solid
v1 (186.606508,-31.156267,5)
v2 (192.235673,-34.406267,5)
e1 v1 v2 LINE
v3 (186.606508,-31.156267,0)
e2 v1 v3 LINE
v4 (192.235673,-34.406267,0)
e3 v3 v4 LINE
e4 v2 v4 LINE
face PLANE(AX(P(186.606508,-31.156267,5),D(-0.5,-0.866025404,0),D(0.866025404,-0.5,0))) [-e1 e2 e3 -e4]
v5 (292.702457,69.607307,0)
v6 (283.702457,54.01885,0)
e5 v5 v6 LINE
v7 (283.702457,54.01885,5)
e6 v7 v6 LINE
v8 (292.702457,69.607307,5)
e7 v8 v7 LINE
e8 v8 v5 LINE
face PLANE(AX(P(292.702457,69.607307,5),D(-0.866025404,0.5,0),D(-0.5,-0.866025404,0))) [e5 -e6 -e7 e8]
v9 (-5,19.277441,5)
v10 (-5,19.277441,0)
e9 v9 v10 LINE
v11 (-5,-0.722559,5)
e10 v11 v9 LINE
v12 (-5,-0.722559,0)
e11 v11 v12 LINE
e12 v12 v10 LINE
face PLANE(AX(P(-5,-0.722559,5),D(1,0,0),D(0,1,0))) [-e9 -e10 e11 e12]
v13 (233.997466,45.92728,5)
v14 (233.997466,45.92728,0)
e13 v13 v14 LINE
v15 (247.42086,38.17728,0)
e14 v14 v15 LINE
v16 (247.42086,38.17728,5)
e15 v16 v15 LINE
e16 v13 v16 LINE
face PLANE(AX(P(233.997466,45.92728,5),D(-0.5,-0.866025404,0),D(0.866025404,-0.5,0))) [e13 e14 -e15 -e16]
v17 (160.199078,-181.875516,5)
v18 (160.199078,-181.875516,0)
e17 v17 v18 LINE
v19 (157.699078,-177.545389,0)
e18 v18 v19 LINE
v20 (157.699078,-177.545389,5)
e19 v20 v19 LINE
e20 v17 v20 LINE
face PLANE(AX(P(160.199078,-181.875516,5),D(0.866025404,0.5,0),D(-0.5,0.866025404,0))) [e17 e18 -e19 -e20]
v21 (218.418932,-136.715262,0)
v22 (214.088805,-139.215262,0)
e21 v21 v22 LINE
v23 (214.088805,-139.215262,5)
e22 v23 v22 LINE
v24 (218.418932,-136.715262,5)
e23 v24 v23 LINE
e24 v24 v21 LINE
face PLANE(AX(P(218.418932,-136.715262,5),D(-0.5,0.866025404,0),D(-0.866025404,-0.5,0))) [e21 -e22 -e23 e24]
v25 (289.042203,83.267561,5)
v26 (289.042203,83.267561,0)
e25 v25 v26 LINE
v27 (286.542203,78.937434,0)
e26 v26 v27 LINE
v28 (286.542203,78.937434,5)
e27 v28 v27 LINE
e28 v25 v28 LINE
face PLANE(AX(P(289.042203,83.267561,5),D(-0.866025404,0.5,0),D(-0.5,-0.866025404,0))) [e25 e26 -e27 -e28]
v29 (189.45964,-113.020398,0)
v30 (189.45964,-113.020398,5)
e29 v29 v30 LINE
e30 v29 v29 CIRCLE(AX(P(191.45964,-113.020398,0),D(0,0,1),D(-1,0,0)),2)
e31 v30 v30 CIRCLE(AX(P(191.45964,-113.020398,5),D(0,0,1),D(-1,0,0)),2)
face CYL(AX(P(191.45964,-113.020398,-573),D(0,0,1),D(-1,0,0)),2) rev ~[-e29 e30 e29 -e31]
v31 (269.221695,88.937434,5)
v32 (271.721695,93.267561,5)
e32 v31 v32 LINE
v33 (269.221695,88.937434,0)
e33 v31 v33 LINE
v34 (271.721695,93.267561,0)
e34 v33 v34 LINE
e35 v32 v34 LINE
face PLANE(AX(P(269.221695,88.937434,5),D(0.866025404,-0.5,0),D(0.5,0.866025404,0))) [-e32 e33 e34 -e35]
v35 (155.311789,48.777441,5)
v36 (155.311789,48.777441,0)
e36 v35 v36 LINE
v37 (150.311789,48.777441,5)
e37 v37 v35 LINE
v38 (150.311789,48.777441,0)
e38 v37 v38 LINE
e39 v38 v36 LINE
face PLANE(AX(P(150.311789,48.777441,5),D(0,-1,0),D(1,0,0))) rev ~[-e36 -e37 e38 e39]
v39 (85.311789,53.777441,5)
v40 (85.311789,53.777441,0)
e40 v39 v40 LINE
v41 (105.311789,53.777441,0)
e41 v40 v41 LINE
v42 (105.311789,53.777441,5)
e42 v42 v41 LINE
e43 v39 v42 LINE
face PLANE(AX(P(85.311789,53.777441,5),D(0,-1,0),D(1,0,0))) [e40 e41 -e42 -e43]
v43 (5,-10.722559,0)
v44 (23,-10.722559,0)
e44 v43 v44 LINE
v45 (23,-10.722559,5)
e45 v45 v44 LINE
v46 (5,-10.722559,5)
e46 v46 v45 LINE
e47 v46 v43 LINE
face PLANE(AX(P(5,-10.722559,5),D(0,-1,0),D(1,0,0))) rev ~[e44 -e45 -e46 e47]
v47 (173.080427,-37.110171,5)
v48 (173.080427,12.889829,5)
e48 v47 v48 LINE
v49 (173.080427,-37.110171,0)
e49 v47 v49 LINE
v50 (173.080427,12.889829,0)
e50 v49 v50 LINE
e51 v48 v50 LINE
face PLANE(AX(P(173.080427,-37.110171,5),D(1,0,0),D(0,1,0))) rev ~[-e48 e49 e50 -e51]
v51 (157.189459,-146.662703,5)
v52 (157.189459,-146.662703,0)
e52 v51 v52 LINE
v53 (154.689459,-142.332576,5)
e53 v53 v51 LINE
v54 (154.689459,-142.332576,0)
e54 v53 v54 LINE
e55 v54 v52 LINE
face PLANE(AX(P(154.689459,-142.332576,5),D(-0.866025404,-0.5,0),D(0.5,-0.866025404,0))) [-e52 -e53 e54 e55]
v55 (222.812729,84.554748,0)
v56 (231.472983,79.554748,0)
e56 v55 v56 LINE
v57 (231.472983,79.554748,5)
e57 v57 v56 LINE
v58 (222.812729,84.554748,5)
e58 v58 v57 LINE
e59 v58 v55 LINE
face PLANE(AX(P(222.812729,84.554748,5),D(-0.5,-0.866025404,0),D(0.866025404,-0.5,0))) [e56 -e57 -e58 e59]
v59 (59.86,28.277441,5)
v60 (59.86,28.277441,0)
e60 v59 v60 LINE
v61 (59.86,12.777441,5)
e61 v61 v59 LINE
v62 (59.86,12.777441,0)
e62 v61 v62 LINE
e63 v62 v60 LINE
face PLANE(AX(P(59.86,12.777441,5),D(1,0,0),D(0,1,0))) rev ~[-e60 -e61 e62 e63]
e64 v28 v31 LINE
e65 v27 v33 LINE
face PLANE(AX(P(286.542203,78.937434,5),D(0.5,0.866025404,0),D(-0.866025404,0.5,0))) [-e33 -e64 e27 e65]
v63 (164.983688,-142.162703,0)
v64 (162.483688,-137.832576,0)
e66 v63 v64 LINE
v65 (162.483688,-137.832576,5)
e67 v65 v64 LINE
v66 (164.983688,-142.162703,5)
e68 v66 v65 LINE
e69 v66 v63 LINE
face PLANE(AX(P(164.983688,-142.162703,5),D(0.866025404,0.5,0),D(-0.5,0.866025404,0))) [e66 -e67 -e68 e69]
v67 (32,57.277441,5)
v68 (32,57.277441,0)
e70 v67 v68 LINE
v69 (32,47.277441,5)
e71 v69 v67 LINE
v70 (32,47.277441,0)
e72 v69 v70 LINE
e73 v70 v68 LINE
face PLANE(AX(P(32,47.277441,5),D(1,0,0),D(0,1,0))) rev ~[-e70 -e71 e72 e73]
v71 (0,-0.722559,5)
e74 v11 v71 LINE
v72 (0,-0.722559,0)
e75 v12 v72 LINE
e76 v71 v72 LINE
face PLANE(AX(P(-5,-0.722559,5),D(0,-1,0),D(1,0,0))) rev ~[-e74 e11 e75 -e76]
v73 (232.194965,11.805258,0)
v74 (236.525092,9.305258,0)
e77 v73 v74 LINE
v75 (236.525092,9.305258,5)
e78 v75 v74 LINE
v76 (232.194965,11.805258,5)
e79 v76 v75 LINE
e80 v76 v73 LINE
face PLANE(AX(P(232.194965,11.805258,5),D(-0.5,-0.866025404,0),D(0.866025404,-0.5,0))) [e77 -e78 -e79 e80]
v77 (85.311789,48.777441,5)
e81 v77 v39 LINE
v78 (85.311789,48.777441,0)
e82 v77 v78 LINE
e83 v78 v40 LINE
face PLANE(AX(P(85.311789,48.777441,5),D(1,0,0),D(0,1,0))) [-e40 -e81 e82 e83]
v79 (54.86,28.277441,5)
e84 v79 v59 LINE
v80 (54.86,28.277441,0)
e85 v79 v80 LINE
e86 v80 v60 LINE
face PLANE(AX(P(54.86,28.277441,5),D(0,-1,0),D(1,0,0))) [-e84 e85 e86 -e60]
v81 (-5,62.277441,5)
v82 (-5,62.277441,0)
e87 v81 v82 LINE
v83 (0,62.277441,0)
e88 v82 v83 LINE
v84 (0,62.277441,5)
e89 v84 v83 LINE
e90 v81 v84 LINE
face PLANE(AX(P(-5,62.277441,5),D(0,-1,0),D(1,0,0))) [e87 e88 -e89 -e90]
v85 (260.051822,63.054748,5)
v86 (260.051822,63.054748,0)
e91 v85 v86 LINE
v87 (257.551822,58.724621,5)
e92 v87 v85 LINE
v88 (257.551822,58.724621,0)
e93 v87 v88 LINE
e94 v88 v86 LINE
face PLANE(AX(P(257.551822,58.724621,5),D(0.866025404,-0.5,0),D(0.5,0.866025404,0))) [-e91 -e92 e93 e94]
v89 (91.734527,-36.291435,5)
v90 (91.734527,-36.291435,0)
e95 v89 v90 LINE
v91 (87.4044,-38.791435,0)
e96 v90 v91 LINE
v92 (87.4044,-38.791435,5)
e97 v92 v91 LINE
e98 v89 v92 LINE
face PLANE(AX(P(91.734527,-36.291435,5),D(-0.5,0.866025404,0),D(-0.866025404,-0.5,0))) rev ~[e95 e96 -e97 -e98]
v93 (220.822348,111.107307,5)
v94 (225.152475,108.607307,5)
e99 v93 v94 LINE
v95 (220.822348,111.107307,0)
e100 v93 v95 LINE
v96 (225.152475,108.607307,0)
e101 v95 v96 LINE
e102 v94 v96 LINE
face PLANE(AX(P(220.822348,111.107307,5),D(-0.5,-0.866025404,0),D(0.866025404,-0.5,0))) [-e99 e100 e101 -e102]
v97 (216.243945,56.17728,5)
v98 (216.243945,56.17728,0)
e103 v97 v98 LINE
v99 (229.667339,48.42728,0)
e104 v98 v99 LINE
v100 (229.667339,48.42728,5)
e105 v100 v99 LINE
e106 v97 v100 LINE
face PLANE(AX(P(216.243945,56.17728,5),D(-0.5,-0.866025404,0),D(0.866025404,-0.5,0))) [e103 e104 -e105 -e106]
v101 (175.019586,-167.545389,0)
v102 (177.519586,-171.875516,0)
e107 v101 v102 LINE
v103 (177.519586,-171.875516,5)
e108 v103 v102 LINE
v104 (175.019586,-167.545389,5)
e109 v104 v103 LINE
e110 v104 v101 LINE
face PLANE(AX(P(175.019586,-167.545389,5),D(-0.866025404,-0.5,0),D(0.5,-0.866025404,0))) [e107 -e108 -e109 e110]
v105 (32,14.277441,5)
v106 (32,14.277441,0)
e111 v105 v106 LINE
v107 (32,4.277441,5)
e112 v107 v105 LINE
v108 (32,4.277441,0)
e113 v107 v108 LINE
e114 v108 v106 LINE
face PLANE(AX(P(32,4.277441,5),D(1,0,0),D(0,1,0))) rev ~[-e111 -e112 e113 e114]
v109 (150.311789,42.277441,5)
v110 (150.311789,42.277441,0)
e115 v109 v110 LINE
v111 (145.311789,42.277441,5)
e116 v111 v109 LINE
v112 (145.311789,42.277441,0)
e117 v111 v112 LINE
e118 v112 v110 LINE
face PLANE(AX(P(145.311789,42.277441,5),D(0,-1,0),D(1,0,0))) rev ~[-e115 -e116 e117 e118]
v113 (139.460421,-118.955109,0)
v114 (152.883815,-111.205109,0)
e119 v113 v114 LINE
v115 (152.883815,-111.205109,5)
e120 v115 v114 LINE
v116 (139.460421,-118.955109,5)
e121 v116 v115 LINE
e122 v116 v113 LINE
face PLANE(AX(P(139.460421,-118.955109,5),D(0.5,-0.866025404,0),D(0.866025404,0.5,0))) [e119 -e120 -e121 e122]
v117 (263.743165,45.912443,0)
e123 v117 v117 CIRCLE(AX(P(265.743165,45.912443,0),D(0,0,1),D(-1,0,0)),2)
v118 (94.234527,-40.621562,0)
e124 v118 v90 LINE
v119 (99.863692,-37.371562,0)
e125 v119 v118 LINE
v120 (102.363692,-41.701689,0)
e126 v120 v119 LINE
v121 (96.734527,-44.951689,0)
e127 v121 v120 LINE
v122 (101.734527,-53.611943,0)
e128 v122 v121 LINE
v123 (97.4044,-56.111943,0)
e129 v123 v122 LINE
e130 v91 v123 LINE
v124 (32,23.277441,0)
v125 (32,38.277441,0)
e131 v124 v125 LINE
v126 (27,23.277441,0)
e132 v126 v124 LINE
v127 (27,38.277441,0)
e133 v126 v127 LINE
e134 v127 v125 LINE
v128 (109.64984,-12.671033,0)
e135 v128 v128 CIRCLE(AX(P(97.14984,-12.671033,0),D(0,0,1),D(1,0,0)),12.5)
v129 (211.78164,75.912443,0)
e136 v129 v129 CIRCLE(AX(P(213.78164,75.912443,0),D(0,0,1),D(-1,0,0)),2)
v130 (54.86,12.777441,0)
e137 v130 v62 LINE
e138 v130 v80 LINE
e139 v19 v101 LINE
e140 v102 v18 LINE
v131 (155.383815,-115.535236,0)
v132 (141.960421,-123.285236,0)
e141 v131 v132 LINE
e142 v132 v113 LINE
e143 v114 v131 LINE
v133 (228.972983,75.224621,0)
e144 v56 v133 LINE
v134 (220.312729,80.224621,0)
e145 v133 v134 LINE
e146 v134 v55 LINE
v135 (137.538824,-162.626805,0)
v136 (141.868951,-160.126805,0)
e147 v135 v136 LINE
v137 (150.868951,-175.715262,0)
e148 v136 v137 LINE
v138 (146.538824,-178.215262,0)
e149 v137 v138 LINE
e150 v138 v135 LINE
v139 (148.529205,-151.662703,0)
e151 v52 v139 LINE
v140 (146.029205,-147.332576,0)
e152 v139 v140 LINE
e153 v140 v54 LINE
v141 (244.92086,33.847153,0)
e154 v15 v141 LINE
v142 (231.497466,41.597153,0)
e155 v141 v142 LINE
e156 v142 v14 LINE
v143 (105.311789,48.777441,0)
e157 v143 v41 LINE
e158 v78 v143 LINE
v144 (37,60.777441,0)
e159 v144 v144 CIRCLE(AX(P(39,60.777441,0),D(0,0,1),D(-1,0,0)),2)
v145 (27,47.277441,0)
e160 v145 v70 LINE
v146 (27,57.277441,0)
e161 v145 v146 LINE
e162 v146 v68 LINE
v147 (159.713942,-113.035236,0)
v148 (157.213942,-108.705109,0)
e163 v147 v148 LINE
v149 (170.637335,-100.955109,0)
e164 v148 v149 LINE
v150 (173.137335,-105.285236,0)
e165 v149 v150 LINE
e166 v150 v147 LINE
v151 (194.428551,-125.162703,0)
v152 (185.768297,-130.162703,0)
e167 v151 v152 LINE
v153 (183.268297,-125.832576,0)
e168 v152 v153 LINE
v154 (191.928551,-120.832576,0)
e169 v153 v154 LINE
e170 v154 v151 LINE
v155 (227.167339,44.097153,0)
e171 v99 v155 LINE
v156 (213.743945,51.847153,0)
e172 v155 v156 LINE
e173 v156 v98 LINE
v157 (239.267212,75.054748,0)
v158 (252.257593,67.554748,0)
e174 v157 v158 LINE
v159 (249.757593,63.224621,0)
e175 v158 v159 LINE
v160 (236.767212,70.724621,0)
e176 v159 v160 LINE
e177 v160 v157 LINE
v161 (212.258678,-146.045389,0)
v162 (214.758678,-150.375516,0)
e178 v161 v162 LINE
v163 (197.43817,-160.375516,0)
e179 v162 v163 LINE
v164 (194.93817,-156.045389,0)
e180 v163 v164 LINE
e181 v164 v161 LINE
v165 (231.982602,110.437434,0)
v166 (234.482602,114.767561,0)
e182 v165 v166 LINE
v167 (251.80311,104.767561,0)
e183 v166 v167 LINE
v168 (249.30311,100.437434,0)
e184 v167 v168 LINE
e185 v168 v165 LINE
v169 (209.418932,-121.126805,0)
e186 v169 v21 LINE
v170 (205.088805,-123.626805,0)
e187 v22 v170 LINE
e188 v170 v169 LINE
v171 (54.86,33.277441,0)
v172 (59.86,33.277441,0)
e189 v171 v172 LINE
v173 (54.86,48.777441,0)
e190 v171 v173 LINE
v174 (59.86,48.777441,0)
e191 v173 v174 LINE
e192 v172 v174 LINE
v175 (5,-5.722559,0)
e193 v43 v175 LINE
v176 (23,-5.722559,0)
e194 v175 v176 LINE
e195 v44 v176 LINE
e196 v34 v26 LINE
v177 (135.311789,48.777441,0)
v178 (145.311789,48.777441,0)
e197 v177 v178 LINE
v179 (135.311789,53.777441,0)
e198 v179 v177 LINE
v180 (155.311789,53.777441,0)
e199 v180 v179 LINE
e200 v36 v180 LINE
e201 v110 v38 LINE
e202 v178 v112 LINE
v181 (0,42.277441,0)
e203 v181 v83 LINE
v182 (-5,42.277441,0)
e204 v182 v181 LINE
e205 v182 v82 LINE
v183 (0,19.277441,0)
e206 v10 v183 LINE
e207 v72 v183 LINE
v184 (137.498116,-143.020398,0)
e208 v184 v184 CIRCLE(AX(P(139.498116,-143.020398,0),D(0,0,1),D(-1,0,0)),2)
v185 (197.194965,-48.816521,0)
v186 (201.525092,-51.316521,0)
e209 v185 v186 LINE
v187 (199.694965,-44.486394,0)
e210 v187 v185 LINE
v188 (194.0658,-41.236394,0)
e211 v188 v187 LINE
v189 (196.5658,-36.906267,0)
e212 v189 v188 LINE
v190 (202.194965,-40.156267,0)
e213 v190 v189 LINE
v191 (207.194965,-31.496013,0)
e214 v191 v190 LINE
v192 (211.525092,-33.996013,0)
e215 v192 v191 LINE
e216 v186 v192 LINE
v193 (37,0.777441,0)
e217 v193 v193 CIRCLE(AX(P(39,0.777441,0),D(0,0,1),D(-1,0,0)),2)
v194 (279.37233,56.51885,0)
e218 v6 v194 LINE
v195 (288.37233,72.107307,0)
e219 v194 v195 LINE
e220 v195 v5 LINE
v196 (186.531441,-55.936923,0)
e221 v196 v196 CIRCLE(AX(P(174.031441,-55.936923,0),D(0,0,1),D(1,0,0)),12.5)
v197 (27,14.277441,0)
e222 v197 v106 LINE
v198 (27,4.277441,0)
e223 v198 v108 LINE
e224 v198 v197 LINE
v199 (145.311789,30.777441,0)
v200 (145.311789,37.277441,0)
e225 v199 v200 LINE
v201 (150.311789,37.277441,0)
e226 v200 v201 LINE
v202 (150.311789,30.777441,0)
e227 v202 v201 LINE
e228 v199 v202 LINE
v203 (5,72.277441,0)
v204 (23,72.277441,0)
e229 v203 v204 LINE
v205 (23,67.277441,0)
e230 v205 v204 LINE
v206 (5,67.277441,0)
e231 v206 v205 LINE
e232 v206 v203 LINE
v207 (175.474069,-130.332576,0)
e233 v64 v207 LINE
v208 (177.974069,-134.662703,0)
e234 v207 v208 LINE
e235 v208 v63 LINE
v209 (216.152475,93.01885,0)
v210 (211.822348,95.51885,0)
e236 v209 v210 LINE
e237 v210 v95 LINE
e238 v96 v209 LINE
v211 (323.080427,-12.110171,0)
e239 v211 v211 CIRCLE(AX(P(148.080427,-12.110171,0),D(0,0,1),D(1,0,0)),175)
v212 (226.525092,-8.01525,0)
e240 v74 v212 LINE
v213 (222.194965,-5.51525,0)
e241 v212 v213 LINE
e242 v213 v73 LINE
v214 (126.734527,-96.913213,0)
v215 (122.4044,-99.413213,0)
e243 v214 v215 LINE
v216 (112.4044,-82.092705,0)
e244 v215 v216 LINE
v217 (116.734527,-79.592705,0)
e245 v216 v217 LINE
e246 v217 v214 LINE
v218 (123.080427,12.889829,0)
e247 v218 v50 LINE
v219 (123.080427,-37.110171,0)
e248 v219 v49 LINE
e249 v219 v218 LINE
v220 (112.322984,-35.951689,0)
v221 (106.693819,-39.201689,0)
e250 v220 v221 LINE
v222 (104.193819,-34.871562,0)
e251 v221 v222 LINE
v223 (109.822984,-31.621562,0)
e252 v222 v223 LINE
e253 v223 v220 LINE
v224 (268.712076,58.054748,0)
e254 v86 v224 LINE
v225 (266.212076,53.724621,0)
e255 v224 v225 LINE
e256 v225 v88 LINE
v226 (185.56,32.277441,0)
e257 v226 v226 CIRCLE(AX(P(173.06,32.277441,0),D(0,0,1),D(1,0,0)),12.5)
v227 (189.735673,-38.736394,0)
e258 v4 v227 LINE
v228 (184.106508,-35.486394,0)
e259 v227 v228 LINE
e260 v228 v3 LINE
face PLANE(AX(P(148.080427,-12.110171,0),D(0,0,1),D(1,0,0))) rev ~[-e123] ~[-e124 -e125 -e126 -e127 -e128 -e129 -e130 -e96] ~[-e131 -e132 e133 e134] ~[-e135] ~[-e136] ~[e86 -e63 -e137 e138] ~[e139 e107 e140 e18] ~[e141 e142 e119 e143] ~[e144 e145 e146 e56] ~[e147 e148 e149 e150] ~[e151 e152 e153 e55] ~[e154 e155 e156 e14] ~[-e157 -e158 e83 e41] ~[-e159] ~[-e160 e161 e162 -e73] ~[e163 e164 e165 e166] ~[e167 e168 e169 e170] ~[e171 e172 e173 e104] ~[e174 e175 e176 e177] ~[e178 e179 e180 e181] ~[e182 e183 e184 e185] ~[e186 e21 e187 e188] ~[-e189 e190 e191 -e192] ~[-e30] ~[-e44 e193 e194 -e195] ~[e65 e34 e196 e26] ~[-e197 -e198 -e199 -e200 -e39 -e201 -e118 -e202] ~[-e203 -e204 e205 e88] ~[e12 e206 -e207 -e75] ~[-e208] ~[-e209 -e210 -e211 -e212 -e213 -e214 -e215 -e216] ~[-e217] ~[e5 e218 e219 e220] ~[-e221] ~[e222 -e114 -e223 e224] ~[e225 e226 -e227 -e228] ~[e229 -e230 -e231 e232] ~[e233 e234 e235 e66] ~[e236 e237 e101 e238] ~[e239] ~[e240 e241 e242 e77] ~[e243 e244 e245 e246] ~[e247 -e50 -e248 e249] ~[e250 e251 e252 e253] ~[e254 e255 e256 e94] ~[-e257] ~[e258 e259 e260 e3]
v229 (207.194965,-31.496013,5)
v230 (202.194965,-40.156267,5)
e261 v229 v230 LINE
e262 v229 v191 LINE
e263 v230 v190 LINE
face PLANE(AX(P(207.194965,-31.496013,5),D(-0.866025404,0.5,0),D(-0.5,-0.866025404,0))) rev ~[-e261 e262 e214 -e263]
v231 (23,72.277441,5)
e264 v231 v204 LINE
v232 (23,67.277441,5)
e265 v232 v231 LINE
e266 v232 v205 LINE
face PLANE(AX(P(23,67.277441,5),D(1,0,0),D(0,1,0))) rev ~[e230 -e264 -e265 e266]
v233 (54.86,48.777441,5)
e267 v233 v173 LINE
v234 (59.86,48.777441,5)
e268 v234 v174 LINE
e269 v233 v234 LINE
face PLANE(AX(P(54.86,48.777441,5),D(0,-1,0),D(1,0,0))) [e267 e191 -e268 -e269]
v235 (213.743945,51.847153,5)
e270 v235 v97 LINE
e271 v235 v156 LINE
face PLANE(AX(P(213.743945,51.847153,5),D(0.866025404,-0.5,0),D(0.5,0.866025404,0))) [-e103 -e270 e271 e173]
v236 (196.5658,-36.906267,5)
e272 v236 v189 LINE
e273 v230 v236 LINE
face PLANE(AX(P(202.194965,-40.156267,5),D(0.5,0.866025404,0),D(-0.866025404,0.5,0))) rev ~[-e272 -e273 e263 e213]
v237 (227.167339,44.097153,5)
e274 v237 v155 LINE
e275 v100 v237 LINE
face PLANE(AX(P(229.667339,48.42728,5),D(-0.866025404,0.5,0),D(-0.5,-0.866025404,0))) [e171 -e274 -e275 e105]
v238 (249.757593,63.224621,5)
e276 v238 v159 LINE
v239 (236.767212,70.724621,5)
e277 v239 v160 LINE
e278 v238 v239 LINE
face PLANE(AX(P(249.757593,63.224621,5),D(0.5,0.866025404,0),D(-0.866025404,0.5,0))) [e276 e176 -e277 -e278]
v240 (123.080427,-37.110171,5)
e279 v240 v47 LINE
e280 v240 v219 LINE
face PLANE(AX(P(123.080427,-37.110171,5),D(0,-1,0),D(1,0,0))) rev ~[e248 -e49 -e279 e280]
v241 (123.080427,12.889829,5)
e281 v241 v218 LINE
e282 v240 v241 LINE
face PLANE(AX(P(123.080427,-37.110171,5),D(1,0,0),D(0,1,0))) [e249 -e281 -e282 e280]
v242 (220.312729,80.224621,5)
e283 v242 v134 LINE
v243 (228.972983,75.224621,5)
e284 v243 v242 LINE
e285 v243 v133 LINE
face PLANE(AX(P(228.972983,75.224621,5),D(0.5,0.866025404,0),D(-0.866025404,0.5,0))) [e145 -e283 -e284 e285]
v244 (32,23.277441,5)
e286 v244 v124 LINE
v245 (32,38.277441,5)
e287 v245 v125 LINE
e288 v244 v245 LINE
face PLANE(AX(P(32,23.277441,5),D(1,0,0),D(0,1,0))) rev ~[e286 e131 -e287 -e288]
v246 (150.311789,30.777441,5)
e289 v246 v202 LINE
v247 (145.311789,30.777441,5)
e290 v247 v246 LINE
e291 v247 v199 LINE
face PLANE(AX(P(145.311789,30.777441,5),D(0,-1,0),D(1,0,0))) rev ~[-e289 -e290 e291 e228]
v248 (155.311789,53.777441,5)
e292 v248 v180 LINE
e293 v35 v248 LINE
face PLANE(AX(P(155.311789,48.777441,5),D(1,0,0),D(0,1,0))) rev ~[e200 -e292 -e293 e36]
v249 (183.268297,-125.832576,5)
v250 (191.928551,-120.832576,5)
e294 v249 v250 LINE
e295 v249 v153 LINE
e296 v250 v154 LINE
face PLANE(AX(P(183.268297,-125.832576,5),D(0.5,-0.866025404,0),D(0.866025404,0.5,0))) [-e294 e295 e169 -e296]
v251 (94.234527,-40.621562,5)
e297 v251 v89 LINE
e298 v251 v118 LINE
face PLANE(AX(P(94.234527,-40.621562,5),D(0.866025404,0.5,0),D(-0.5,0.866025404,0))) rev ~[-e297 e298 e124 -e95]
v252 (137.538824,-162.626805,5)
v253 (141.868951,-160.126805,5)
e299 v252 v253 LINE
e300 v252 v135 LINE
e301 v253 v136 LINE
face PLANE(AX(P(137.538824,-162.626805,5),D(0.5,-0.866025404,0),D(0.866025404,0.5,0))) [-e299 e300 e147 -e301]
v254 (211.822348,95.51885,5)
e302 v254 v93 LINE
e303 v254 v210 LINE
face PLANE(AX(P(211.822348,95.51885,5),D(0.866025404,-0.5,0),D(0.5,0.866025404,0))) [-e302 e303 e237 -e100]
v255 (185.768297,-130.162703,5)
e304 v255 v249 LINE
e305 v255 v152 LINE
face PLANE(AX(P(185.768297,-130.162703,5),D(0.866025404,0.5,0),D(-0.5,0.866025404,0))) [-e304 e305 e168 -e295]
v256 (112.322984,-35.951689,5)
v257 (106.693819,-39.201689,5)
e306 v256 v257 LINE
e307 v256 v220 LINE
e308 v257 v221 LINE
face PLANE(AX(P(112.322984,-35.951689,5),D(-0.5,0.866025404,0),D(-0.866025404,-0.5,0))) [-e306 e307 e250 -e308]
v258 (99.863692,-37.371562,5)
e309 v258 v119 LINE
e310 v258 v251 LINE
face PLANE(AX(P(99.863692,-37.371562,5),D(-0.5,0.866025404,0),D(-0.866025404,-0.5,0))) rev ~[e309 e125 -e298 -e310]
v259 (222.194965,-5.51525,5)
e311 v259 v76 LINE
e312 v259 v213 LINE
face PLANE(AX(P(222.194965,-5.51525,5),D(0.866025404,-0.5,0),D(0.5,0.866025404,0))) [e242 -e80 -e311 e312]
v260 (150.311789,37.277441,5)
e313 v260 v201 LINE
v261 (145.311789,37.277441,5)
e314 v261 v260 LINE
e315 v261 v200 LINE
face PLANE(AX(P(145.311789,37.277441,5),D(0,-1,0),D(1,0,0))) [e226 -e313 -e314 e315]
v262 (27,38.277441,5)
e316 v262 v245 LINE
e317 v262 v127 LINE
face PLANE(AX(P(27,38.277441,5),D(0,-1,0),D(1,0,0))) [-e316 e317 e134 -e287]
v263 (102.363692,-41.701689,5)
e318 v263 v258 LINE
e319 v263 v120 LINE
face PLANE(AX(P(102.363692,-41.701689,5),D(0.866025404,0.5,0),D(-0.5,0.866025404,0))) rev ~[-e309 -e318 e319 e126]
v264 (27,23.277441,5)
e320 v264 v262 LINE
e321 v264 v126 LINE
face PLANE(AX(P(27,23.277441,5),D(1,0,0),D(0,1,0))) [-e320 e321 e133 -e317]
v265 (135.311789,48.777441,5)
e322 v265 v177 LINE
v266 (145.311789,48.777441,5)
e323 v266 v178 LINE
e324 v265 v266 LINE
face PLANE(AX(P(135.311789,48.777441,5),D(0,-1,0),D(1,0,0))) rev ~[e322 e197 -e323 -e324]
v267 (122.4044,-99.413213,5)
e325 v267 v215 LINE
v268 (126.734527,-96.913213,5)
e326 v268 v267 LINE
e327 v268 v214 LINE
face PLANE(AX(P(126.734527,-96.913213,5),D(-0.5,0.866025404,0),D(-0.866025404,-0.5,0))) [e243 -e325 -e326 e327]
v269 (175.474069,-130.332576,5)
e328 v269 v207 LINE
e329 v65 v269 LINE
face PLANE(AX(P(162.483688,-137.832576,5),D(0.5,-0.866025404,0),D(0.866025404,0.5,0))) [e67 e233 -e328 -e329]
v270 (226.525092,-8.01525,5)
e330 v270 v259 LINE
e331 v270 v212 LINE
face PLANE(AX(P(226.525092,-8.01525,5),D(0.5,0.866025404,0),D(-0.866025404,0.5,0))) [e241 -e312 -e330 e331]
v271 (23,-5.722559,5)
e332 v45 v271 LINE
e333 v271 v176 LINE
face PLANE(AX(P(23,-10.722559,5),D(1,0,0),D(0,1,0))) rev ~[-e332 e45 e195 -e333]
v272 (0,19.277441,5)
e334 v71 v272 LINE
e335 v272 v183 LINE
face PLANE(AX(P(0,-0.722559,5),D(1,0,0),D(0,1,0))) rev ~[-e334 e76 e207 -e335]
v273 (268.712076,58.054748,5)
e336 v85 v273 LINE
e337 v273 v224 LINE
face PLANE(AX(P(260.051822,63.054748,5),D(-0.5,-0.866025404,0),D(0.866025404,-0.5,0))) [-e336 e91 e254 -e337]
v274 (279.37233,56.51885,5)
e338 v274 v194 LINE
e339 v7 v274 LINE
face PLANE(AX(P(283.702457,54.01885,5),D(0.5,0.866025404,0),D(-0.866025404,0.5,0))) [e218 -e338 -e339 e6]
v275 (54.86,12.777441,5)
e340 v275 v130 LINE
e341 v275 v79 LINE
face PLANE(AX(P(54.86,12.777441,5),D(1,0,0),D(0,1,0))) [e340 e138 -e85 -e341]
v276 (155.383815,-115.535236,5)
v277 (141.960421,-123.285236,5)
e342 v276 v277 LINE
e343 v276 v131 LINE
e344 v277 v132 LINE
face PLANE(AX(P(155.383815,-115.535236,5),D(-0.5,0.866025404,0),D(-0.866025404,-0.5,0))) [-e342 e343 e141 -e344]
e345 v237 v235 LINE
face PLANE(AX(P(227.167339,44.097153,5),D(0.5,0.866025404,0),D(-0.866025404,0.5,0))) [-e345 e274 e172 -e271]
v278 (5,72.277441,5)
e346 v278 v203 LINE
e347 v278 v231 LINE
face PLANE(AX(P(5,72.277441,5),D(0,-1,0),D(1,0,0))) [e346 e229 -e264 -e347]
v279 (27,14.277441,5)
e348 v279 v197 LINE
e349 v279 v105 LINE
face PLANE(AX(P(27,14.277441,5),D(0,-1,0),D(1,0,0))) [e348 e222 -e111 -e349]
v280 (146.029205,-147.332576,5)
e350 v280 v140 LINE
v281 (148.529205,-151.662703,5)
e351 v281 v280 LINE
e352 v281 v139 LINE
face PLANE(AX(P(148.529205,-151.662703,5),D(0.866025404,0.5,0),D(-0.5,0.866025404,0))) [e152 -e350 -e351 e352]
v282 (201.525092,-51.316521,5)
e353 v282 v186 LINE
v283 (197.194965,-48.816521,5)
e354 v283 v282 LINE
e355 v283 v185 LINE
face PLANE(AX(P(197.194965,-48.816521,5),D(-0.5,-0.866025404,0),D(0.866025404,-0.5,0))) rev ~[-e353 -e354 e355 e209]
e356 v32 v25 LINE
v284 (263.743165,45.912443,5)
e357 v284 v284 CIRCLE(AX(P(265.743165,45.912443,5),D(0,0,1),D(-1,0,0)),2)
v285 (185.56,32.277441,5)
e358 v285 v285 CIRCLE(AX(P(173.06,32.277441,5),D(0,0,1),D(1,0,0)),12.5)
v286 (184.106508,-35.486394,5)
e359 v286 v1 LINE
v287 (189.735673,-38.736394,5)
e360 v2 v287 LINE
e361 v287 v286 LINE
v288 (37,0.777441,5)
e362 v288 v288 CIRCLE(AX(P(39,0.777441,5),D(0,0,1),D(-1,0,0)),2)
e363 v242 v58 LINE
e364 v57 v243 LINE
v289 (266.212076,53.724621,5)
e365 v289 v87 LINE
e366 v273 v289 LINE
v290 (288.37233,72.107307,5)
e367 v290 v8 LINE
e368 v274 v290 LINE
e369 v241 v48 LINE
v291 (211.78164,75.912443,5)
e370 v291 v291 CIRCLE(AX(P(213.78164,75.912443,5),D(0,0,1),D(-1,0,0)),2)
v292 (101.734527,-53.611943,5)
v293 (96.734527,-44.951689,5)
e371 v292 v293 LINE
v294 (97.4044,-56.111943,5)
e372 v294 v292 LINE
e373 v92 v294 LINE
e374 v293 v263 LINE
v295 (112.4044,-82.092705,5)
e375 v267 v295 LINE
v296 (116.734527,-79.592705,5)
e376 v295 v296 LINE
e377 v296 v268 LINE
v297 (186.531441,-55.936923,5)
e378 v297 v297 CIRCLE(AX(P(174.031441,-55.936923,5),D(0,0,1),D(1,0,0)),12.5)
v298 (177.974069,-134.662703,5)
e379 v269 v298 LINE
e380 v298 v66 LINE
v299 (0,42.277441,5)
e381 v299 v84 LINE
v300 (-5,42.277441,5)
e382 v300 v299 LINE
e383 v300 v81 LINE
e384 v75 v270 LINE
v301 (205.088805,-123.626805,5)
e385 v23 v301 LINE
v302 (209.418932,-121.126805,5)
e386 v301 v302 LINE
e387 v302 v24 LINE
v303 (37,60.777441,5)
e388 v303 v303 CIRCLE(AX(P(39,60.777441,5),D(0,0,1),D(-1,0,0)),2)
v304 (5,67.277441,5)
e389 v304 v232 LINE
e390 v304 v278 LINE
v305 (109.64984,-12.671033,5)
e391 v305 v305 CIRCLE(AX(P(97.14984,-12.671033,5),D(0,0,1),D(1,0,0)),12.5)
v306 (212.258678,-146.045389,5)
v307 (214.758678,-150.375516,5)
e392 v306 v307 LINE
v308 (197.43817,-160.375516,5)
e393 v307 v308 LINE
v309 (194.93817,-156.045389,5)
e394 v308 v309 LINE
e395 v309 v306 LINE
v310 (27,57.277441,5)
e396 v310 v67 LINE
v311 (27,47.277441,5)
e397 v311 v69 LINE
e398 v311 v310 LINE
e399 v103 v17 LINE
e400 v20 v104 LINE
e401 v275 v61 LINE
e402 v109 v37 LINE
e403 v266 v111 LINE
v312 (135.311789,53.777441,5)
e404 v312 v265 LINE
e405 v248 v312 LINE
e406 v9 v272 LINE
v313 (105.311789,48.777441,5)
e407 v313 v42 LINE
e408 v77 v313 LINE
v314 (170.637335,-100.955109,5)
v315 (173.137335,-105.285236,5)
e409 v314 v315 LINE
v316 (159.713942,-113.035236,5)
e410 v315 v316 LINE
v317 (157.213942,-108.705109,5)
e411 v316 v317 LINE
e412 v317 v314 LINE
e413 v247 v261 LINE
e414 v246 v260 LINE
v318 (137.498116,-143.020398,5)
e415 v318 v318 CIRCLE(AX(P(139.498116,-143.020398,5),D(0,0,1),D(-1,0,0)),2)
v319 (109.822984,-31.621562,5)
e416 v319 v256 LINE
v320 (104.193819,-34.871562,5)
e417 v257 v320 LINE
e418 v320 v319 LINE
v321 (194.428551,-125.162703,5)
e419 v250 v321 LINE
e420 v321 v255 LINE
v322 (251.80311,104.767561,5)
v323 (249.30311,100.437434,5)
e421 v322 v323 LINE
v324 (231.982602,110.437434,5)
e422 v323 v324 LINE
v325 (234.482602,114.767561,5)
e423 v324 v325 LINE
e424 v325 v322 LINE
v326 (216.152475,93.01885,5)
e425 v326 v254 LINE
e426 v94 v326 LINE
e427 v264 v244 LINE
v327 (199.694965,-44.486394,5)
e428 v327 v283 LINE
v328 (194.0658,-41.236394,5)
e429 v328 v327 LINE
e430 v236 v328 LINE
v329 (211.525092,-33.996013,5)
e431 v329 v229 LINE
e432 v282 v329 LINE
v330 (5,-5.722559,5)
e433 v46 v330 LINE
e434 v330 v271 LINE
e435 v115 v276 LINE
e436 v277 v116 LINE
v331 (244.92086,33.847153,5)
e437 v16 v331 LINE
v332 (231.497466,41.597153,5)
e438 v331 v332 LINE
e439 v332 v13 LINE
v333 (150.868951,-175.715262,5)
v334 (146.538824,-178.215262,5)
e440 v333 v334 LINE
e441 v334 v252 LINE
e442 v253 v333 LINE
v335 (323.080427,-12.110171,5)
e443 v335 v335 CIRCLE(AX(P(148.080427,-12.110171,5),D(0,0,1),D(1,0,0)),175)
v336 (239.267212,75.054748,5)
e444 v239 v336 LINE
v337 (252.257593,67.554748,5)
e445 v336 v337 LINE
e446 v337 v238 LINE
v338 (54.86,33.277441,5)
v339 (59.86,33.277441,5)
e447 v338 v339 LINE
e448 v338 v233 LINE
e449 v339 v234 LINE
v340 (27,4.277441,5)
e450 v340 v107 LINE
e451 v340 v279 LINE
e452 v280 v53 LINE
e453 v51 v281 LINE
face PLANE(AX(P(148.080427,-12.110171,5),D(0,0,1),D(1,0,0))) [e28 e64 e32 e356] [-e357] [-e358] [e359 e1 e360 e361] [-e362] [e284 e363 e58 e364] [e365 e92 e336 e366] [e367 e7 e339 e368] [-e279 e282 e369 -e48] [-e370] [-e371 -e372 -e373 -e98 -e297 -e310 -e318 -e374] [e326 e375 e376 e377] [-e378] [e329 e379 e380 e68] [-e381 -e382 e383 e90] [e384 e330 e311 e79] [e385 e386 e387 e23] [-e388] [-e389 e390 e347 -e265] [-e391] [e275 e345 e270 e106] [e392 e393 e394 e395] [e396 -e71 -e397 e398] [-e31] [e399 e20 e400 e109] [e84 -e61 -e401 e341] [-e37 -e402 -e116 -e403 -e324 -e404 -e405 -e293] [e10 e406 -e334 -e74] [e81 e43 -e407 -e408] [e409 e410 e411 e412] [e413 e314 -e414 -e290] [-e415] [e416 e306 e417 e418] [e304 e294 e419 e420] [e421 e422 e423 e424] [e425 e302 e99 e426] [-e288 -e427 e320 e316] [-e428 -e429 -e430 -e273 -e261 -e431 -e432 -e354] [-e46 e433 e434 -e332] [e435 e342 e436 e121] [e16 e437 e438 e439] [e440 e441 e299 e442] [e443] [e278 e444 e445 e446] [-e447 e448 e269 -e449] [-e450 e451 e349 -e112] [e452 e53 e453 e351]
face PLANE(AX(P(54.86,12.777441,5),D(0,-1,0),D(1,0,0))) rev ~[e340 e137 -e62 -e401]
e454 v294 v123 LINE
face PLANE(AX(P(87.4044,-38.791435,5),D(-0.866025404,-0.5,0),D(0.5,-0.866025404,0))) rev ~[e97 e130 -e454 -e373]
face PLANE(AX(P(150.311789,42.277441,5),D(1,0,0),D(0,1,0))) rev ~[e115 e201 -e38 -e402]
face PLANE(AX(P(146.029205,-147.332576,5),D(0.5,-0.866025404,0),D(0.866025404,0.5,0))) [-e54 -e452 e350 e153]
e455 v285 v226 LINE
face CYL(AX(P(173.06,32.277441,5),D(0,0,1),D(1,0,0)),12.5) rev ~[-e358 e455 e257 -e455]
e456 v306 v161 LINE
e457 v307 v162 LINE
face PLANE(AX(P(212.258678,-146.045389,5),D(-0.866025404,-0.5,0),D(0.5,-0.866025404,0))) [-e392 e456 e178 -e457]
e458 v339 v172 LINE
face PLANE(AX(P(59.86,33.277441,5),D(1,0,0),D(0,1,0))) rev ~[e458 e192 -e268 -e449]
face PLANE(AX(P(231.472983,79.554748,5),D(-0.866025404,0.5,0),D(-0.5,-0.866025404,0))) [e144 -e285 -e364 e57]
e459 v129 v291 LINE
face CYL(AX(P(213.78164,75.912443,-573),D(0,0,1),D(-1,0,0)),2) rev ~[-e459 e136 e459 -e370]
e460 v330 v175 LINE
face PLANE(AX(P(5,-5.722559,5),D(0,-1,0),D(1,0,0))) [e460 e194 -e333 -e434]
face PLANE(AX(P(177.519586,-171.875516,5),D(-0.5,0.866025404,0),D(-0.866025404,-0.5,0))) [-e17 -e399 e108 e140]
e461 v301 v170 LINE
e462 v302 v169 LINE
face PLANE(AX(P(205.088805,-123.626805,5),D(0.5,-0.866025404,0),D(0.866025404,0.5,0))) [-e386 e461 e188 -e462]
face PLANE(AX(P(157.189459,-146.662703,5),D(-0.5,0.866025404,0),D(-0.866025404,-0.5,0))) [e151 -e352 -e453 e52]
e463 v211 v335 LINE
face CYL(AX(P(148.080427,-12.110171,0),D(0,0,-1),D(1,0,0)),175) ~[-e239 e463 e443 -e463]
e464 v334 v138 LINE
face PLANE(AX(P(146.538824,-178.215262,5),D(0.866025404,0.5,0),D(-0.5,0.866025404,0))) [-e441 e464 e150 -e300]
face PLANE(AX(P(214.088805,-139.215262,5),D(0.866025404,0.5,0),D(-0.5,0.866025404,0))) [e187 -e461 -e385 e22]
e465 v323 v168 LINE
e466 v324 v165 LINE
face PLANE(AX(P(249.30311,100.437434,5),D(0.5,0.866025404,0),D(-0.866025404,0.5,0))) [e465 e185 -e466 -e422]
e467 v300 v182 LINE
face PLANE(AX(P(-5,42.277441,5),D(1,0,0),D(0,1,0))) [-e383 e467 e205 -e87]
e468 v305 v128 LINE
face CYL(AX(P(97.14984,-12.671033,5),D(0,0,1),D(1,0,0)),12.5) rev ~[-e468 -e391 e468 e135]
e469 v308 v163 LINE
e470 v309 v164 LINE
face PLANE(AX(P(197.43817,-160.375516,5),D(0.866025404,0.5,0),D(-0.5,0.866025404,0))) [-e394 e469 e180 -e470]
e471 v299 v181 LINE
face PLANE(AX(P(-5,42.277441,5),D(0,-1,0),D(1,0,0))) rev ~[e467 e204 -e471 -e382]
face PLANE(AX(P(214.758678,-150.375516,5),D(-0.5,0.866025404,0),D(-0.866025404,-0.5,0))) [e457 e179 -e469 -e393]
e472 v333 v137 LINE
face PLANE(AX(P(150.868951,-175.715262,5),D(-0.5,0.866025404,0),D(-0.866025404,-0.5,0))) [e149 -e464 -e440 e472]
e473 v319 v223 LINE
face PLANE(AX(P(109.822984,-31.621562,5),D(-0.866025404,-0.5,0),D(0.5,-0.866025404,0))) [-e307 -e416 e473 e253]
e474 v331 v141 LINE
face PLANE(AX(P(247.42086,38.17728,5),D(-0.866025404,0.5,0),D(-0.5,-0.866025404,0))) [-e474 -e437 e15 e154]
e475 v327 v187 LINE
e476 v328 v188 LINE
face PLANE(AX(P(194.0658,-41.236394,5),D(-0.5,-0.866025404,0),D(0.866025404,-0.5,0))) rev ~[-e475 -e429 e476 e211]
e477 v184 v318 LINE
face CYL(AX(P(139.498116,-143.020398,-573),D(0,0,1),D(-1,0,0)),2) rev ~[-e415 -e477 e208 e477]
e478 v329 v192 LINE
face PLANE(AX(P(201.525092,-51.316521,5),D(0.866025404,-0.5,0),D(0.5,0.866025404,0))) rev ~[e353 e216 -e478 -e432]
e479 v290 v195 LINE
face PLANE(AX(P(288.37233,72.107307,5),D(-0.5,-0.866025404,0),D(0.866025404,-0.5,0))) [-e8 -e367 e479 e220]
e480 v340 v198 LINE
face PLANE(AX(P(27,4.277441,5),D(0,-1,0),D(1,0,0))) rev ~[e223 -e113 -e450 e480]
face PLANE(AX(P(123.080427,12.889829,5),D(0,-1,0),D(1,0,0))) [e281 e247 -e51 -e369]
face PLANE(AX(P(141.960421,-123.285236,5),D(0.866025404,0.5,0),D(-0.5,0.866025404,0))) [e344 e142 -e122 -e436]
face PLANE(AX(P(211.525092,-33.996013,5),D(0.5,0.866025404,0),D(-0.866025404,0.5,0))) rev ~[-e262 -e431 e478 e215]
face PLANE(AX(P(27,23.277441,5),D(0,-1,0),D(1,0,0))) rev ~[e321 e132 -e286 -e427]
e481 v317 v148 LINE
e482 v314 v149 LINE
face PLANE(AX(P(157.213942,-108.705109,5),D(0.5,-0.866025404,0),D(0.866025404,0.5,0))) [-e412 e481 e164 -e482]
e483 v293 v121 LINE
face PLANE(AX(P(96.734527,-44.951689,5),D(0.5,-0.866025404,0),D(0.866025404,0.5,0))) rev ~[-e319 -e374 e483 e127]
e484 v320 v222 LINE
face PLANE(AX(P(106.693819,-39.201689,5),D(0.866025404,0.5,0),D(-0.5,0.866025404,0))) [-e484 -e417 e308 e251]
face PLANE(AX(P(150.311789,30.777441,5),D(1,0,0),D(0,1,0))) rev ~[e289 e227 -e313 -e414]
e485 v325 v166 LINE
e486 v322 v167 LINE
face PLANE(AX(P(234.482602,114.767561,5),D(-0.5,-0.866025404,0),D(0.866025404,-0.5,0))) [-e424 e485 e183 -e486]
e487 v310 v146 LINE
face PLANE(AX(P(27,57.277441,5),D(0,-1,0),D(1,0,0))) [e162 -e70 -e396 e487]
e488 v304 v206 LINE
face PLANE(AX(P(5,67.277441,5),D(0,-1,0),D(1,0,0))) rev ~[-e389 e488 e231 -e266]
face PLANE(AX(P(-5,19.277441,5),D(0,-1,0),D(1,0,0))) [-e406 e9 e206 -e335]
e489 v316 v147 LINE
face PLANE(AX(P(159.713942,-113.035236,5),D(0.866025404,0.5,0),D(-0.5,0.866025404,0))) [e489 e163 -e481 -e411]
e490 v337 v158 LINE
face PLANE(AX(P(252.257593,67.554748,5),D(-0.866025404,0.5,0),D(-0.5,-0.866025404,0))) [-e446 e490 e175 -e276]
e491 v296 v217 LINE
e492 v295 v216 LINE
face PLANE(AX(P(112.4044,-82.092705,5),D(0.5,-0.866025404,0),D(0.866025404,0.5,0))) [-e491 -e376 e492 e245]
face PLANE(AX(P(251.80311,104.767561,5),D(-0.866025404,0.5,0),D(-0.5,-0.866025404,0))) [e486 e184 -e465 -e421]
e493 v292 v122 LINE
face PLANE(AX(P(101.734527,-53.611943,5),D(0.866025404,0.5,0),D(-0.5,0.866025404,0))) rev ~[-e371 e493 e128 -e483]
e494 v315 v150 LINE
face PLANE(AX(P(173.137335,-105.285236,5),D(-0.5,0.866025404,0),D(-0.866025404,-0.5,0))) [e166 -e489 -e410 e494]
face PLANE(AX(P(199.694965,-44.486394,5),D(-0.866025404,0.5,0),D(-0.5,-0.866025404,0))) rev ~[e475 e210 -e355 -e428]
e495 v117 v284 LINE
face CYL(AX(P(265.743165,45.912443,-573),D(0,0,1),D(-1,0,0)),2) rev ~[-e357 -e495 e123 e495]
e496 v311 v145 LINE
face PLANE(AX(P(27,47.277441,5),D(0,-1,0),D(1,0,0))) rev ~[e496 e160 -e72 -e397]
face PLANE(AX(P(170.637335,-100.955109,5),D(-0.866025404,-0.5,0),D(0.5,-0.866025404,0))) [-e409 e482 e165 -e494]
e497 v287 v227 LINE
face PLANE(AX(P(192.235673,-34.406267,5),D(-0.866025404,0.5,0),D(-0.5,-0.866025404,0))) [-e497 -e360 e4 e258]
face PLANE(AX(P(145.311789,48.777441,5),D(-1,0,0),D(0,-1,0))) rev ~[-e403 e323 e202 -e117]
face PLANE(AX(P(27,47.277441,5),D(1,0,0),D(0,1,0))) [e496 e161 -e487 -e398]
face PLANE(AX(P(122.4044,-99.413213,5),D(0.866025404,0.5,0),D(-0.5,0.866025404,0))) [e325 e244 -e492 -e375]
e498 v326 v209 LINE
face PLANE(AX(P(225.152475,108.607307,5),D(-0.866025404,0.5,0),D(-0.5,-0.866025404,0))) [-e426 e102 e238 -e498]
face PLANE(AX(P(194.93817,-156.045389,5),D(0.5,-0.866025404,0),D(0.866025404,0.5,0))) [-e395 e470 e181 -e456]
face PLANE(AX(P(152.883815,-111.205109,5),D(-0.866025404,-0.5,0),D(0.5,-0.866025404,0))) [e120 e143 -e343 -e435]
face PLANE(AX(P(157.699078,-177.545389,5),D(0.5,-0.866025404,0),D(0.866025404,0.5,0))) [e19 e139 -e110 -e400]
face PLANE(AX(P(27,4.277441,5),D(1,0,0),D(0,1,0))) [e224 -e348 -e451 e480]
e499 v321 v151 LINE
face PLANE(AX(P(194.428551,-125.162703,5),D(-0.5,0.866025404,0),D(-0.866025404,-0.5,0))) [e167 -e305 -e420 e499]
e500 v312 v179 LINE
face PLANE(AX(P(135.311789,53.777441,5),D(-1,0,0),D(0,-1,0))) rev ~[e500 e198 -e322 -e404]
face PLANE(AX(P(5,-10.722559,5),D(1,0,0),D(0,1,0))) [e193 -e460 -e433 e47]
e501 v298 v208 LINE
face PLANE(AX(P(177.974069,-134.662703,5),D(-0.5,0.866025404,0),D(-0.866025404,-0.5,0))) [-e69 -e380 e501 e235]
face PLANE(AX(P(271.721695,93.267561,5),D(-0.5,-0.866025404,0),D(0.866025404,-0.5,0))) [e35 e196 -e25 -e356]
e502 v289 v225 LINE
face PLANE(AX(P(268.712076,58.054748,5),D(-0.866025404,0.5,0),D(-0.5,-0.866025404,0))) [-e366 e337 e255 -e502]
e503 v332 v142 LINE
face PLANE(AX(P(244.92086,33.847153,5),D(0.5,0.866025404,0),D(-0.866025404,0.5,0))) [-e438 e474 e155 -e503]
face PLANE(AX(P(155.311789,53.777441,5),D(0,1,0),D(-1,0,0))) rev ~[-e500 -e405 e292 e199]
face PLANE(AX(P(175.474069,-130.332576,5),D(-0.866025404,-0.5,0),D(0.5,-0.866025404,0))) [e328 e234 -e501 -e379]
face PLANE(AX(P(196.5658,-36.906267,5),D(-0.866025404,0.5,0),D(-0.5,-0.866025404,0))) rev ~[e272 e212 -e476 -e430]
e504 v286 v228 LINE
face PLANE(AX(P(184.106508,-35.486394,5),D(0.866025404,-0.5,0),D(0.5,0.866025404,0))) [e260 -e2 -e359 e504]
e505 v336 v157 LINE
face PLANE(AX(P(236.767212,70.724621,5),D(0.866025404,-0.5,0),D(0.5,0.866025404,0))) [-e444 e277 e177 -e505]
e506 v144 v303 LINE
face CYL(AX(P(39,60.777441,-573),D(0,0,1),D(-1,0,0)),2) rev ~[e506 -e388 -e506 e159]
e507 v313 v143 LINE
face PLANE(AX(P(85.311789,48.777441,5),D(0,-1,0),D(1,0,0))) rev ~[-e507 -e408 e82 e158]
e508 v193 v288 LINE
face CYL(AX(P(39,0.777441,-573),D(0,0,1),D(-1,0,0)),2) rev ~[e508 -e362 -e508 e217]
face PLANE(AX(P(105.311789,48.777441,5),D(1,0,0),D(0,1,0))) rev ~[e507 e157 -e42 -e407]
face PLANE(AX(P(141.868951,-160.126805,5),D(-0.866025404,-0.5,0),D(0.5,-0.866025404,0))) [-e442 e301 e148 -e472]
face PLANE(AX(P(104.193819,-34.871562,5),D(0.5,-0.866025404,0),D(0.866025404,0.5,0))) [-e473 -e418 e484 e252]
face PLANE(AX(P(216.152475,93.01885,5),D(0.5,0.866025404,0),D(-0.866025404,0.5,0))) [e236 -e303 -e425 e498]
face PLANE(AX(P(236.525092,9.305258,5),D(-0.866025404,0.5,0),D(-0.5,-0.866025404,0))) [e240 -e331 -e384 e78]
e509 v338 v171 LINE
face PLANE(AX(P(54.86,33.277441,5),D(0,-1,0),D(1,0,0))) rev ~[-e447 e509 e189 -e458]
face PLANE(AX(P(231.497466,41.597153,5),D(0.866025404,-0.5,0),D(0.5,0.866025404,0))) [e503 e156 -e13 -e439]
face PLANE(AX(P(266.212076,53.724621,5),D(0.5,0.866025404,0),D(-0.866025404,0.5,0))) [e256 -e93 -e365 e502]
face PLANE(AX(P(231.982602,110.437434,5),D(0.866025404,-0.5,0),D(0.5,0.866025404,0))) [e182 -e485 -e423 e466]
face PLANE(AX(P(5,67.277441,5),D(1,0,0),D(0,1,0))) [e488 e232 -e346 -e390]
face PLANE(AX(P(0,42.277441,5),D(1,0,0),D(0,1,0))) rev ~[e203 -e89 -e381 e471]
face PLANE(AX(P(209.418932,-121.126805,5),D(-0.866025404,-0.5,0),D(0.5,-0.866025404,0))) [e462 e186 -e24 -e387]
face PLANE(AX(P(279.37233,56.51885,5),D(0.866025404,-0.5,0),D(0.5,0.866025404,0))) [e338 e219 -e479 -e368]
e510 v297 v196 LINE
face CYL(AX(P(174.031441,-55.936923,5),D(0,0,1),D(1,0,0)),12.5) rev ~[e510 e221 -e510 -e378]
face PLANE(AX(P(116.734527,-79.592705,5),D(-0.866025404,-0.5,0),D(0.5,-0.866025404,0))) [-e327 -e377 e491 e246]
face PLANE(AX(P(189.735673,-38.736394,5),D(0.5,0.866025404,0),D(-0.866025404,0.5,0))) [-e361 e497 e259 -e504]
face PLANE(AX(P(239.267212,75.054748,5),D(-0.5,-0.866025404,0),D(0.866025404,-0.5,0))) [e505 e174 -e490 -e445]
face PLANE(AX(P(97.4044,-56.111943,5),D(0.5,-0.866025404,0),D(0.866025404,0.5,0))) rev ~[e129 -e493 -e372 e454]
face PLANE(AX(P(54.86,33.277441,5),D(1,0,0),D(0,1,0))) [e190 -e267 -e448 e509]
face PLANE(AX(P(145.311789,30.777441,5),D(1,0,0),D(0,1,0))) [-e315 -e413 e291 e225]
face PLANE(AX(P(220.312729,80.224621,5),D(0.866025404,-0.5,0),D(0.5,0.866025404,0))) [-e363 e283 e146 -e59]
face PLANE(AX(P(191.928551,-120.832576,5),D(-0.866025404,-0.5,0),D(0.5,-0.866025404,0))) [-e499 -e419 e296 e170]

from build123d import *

# Parameters (mm, degrees)
ESQUISSE1_R                = 175
BOSS_EXTRU_1_DEPTH         = 5
ESQUISSE2_W                = 18
ESQUISSE2_H                = 5
ESQUISSE2_W_2              = 5
ESQUISSE2_H_2              = 20
ESQUISSE2_H_3              = 10
ESQUISSE2_H_4              = 15
ESQUISSE2_H_5              = 15.5
ESQUISSE2_W_3              = 20
ESQUISSE2_H_6              = 6.5
ENL_V_MAT_EXTRU_1_DEPTH    = 5
ESQUISSE6_R                = 12.5
ESQUISSE6_W                = 50
ESQUISSE6_H                = 50
ENL_V_MAT_EXTRU_6_DEPTH    = 5
TROUS_DE_CENTRAGE_4_0MM1_D = 4


with BuildPart() as part:
    # Esquisse1 → Boss.-Extru.1 (new body)
    with BuildSketch(Plane.XY):
        with Locations((148.080426897, -12.110171348)):
            Circle(ESQUISSE1_R)
    extrude(amount=BOSS_EXTRU_1_DEPTH)

    # Esquisse2 → Enlèv. mat.-Extru.1 (cut)
    with BuildSketch(Plane.XY.offset(5)):
        Polygon((135.311788567, 53.777441362), (135.311788567, 48.777441362), (145.311788567, 48.777441362), (145.311788567, 42.277441362), (150.311788567, 42.277441362), (150.311788567, 48.777441362), (155.311788567, 48.777441362), (155.311788567, 53.777441362), align=None)
        with Locations((14, 69.777441362)):
            Rectangle(ESQUISSE2_W, ESQUISSE2_H)
        with Locations((-2.5, 52.277441362)):
            Rectangle(ESQUISSE2_W_2, ESQUISSE2_H_2)
        with Locations((-2.5, 9.277441362)):
            Rectangle(ESQUISSE2_W_2, ESQUISSE2_H_2)
        with Locations((14, -8.222558638)):
            Rectangle(ESQUISSE2_W, ESQUISSE2_H)
        with Locations((29.5, 9.277441362)):
            Rectangle(ESQUISSE2_W_2, ESQUISSE2_H_3)
        with Locations((29.5, 30.777441362)):
            Rectangle(ESQUISSE2_W_2, ESQUISSE2_H_4)
        with Locations((29.5, 52.277441362)):
            Rectangle(ESQUISSE2_W_2, ESQUISSE2_H_3)
        with Locations((57.36, 41.027441362)):
            Rectangle(ESQUISSE2_W_2, ESQUISSE2_H_5)
        with Locations((57.36, 20.527441362)):
            Rectangle(ESQUISSE2_W_2, ESQUISSE2_H_5)
        with Locations((95.311788567, 51.277441362)):
            Rectangle(ESQUISSE2_W_3, ESQUISSE2_H)
        with Locations((147.811788567, 34.027441362)):
            Rectangle(ESQUISSE2_W_2, ESQUISSE2_H_6)
        Polygon((292.702456717, 69.607306773), (283.702456717, 54.018849505), (279.372329698, 56.518849505), (288.372329698, 72.107306773), align=None)
        Polygon((289.042202679, 83.267560811), (286.542202679, 78.937433792), (269.221694603, 88.937433792), (271.721694603, 93.267560811), align=None)
        Polygon((251.803110316, 104.767560811), (249.303110316, 100.437433792), (231.982602241, 110.437433792), (234.482602241, 114.767560811), align=None)
        Polygon((225.152475222, 108.607306773), (216.152475222, 93.018849505), (211.822348203, 95.518849505), (220.822348203, 111.107306773), align=None)
        Polygon((231.472983297, 79.55474789), (228.972983297, 75.224620871), (220.31272926, 80.224620871), (222.81272926, 84.55474789), align=None)
        Polygon((252.257592988, 67.55474789), (249.757592988, 63.224620871), (236.767211932, 70.724620871), (239.267211932, 75.05474789), align=None)
        Polygon((268.71207566, 58.05474789), (266.21207566, 53.724620871), (257.551821622, 58.724620871), (260.051821622, 63.05474789), align=None)
        Polygon((247.420859728, 38.17728014), (244.920859728, 33.847153121), (231.497465969, 41.597153121), (233.997465969, 45.92728014), align=None)
        Polygon((229.66733895, 48.42728014), (227.16733895, 44.097153121), (213.743945192, 51.847153121), (216.243945192, 56.17728014), align=None)
        Polygon((211.525092463, -33.996012539), (207.194965444, -31.496012539), (202.194965444, -40.156266577), (196.56580032, -36.906266577), (194.06580032, -41.236393596), (199.694965444, -44.486393596), (197.194965444, -48.816520615), (201.525092463, -51.316520615), align=None)
        Polygon((236.525092463, 9.30525765), (226.525092463, -8.015250425), (222.194965444, -5.515250425), (232.194965444, 11.80525765), align=None)
        Polygon((192.235673301, -34.406266577), (189.735673301, -38.736393596), (184.106508176, -35.486393596), (186.606508176, -31.156266577), align=None)
        Polygon((146.538823973, -178.215262181), (137.538823973, -162.626804912), (141.868950992, -160.126804912), (150.868950992, -175.715262181), align=None)
        Polygon((160.199078011, -181.875516218), (157.699078011, -177.545389199), (175.019586086, -167.545389199), (177.519586086, -171.875516218), align=None)
        Polygon((197.438170373, -160.375516218), (194.938170373, -156.045389199), (212.258678449, -146.045389199), (214.758678449, -150.375516218), align=None)
        Polygon((214.088805468, -139.215262181), (205.088805468, -123.626804912), (209.418932487, -121.126804912), (218.418932487, -136.715262181), align=None)
        Polygon((185.768297392, -130.162703297), (183.268297392, -125.832576278), (191.92855143, -120.832576278), (194.42855143, -125.162703297), align=None)
        Polygon((164.983687701, -142.162703297), (162.483687701, -137.832576278), (175.474068758, -130.332576278), (177.974068758, -134.662703297), align=None)
        Polygon((148.52920503, -151.662703297), (146.02920503, -147.332576278), (154.689459067, -142.332576278), (157.189459067, -146.662703297), align=None)
        Polygon((141.960420962, -123.285235548), (139.460420962, -118.955108529), (152.88381472, -111.205108529), (155.38381472, -115.535235548), align=None)
        Polygon((159.713941739, -113.035235548), (157.213941739, -108.705108529), (170.637335498, -100.955108529), (173.137335498, -105.285235548), align=None)
        Polygon((97.404399659, -56.111942869), (101.734526678, -53.611942869), (96.734526678, -44.951688831), (102.363691803, -41.701688831), (99.863691803, -37.371561812), (94.234526678, -40.621561812), (91.734526678, -36.291434793), (87.404399659, -38.791434793), align=None)
        Polygon((122.404399659, -99.413213058), (112.404399659, -82.092704982), (116.734526678, -79.592704982), (126.734526678, -96.913213058), align=None)
        Polygon((106.693818822, -39.201688831), (104.193818822, -34.871561812), (109.822983946, -31.621561812), (112.322983946, -35.951688831), align=None)
    extrude(amount=-ENL_V_MAT_EXTRU_1_DEPTH, mode=Mode.SUBTRACT)

    # Esquisse6 → Enlèv. mat.-Extru.6 (cut)
    with BuildSketch(Plane.XY.offset(5)):
        with Locations((173.06, 32.277441362)):
            Circle(ESQUISSE6_R)
        with Locations((174.031440566, -55.936922587)):
            Circle(ESQUISSE6_R)
        with Locations((97.149840124, -12.67103282)):
            Circle(ESQUISSE6_R)
        with Locations((148.080426897, -12.110171348)):
            Rectangle(ESQUISSE6_W, ESQUISSE6_H)
    extrude(amount=-ENL_V_MAT_EXTRU_6_DEPTH, mode=Mode.SUBTRACT)

    # Trous de centrage Ø4.0mm1 (through all)
    with Locations(Plane(origin=(148.080426897, -12.110171348, -78), x_dir=(1, 0, 0), z_dir=(0, 0, -1))):
        with Locations((65.70121345, -88.022614393), (117.662737677, -58.022614393), (-109.080426897, -72.887612711), (-109.080426897, -12.887612711), (-8.58231078, 130.910227103), (43.379213447, 100.910227103)):
            Hole(TROUS_DE_CENTRAGE_4_0MM1_D / 2)


solid = part.part
